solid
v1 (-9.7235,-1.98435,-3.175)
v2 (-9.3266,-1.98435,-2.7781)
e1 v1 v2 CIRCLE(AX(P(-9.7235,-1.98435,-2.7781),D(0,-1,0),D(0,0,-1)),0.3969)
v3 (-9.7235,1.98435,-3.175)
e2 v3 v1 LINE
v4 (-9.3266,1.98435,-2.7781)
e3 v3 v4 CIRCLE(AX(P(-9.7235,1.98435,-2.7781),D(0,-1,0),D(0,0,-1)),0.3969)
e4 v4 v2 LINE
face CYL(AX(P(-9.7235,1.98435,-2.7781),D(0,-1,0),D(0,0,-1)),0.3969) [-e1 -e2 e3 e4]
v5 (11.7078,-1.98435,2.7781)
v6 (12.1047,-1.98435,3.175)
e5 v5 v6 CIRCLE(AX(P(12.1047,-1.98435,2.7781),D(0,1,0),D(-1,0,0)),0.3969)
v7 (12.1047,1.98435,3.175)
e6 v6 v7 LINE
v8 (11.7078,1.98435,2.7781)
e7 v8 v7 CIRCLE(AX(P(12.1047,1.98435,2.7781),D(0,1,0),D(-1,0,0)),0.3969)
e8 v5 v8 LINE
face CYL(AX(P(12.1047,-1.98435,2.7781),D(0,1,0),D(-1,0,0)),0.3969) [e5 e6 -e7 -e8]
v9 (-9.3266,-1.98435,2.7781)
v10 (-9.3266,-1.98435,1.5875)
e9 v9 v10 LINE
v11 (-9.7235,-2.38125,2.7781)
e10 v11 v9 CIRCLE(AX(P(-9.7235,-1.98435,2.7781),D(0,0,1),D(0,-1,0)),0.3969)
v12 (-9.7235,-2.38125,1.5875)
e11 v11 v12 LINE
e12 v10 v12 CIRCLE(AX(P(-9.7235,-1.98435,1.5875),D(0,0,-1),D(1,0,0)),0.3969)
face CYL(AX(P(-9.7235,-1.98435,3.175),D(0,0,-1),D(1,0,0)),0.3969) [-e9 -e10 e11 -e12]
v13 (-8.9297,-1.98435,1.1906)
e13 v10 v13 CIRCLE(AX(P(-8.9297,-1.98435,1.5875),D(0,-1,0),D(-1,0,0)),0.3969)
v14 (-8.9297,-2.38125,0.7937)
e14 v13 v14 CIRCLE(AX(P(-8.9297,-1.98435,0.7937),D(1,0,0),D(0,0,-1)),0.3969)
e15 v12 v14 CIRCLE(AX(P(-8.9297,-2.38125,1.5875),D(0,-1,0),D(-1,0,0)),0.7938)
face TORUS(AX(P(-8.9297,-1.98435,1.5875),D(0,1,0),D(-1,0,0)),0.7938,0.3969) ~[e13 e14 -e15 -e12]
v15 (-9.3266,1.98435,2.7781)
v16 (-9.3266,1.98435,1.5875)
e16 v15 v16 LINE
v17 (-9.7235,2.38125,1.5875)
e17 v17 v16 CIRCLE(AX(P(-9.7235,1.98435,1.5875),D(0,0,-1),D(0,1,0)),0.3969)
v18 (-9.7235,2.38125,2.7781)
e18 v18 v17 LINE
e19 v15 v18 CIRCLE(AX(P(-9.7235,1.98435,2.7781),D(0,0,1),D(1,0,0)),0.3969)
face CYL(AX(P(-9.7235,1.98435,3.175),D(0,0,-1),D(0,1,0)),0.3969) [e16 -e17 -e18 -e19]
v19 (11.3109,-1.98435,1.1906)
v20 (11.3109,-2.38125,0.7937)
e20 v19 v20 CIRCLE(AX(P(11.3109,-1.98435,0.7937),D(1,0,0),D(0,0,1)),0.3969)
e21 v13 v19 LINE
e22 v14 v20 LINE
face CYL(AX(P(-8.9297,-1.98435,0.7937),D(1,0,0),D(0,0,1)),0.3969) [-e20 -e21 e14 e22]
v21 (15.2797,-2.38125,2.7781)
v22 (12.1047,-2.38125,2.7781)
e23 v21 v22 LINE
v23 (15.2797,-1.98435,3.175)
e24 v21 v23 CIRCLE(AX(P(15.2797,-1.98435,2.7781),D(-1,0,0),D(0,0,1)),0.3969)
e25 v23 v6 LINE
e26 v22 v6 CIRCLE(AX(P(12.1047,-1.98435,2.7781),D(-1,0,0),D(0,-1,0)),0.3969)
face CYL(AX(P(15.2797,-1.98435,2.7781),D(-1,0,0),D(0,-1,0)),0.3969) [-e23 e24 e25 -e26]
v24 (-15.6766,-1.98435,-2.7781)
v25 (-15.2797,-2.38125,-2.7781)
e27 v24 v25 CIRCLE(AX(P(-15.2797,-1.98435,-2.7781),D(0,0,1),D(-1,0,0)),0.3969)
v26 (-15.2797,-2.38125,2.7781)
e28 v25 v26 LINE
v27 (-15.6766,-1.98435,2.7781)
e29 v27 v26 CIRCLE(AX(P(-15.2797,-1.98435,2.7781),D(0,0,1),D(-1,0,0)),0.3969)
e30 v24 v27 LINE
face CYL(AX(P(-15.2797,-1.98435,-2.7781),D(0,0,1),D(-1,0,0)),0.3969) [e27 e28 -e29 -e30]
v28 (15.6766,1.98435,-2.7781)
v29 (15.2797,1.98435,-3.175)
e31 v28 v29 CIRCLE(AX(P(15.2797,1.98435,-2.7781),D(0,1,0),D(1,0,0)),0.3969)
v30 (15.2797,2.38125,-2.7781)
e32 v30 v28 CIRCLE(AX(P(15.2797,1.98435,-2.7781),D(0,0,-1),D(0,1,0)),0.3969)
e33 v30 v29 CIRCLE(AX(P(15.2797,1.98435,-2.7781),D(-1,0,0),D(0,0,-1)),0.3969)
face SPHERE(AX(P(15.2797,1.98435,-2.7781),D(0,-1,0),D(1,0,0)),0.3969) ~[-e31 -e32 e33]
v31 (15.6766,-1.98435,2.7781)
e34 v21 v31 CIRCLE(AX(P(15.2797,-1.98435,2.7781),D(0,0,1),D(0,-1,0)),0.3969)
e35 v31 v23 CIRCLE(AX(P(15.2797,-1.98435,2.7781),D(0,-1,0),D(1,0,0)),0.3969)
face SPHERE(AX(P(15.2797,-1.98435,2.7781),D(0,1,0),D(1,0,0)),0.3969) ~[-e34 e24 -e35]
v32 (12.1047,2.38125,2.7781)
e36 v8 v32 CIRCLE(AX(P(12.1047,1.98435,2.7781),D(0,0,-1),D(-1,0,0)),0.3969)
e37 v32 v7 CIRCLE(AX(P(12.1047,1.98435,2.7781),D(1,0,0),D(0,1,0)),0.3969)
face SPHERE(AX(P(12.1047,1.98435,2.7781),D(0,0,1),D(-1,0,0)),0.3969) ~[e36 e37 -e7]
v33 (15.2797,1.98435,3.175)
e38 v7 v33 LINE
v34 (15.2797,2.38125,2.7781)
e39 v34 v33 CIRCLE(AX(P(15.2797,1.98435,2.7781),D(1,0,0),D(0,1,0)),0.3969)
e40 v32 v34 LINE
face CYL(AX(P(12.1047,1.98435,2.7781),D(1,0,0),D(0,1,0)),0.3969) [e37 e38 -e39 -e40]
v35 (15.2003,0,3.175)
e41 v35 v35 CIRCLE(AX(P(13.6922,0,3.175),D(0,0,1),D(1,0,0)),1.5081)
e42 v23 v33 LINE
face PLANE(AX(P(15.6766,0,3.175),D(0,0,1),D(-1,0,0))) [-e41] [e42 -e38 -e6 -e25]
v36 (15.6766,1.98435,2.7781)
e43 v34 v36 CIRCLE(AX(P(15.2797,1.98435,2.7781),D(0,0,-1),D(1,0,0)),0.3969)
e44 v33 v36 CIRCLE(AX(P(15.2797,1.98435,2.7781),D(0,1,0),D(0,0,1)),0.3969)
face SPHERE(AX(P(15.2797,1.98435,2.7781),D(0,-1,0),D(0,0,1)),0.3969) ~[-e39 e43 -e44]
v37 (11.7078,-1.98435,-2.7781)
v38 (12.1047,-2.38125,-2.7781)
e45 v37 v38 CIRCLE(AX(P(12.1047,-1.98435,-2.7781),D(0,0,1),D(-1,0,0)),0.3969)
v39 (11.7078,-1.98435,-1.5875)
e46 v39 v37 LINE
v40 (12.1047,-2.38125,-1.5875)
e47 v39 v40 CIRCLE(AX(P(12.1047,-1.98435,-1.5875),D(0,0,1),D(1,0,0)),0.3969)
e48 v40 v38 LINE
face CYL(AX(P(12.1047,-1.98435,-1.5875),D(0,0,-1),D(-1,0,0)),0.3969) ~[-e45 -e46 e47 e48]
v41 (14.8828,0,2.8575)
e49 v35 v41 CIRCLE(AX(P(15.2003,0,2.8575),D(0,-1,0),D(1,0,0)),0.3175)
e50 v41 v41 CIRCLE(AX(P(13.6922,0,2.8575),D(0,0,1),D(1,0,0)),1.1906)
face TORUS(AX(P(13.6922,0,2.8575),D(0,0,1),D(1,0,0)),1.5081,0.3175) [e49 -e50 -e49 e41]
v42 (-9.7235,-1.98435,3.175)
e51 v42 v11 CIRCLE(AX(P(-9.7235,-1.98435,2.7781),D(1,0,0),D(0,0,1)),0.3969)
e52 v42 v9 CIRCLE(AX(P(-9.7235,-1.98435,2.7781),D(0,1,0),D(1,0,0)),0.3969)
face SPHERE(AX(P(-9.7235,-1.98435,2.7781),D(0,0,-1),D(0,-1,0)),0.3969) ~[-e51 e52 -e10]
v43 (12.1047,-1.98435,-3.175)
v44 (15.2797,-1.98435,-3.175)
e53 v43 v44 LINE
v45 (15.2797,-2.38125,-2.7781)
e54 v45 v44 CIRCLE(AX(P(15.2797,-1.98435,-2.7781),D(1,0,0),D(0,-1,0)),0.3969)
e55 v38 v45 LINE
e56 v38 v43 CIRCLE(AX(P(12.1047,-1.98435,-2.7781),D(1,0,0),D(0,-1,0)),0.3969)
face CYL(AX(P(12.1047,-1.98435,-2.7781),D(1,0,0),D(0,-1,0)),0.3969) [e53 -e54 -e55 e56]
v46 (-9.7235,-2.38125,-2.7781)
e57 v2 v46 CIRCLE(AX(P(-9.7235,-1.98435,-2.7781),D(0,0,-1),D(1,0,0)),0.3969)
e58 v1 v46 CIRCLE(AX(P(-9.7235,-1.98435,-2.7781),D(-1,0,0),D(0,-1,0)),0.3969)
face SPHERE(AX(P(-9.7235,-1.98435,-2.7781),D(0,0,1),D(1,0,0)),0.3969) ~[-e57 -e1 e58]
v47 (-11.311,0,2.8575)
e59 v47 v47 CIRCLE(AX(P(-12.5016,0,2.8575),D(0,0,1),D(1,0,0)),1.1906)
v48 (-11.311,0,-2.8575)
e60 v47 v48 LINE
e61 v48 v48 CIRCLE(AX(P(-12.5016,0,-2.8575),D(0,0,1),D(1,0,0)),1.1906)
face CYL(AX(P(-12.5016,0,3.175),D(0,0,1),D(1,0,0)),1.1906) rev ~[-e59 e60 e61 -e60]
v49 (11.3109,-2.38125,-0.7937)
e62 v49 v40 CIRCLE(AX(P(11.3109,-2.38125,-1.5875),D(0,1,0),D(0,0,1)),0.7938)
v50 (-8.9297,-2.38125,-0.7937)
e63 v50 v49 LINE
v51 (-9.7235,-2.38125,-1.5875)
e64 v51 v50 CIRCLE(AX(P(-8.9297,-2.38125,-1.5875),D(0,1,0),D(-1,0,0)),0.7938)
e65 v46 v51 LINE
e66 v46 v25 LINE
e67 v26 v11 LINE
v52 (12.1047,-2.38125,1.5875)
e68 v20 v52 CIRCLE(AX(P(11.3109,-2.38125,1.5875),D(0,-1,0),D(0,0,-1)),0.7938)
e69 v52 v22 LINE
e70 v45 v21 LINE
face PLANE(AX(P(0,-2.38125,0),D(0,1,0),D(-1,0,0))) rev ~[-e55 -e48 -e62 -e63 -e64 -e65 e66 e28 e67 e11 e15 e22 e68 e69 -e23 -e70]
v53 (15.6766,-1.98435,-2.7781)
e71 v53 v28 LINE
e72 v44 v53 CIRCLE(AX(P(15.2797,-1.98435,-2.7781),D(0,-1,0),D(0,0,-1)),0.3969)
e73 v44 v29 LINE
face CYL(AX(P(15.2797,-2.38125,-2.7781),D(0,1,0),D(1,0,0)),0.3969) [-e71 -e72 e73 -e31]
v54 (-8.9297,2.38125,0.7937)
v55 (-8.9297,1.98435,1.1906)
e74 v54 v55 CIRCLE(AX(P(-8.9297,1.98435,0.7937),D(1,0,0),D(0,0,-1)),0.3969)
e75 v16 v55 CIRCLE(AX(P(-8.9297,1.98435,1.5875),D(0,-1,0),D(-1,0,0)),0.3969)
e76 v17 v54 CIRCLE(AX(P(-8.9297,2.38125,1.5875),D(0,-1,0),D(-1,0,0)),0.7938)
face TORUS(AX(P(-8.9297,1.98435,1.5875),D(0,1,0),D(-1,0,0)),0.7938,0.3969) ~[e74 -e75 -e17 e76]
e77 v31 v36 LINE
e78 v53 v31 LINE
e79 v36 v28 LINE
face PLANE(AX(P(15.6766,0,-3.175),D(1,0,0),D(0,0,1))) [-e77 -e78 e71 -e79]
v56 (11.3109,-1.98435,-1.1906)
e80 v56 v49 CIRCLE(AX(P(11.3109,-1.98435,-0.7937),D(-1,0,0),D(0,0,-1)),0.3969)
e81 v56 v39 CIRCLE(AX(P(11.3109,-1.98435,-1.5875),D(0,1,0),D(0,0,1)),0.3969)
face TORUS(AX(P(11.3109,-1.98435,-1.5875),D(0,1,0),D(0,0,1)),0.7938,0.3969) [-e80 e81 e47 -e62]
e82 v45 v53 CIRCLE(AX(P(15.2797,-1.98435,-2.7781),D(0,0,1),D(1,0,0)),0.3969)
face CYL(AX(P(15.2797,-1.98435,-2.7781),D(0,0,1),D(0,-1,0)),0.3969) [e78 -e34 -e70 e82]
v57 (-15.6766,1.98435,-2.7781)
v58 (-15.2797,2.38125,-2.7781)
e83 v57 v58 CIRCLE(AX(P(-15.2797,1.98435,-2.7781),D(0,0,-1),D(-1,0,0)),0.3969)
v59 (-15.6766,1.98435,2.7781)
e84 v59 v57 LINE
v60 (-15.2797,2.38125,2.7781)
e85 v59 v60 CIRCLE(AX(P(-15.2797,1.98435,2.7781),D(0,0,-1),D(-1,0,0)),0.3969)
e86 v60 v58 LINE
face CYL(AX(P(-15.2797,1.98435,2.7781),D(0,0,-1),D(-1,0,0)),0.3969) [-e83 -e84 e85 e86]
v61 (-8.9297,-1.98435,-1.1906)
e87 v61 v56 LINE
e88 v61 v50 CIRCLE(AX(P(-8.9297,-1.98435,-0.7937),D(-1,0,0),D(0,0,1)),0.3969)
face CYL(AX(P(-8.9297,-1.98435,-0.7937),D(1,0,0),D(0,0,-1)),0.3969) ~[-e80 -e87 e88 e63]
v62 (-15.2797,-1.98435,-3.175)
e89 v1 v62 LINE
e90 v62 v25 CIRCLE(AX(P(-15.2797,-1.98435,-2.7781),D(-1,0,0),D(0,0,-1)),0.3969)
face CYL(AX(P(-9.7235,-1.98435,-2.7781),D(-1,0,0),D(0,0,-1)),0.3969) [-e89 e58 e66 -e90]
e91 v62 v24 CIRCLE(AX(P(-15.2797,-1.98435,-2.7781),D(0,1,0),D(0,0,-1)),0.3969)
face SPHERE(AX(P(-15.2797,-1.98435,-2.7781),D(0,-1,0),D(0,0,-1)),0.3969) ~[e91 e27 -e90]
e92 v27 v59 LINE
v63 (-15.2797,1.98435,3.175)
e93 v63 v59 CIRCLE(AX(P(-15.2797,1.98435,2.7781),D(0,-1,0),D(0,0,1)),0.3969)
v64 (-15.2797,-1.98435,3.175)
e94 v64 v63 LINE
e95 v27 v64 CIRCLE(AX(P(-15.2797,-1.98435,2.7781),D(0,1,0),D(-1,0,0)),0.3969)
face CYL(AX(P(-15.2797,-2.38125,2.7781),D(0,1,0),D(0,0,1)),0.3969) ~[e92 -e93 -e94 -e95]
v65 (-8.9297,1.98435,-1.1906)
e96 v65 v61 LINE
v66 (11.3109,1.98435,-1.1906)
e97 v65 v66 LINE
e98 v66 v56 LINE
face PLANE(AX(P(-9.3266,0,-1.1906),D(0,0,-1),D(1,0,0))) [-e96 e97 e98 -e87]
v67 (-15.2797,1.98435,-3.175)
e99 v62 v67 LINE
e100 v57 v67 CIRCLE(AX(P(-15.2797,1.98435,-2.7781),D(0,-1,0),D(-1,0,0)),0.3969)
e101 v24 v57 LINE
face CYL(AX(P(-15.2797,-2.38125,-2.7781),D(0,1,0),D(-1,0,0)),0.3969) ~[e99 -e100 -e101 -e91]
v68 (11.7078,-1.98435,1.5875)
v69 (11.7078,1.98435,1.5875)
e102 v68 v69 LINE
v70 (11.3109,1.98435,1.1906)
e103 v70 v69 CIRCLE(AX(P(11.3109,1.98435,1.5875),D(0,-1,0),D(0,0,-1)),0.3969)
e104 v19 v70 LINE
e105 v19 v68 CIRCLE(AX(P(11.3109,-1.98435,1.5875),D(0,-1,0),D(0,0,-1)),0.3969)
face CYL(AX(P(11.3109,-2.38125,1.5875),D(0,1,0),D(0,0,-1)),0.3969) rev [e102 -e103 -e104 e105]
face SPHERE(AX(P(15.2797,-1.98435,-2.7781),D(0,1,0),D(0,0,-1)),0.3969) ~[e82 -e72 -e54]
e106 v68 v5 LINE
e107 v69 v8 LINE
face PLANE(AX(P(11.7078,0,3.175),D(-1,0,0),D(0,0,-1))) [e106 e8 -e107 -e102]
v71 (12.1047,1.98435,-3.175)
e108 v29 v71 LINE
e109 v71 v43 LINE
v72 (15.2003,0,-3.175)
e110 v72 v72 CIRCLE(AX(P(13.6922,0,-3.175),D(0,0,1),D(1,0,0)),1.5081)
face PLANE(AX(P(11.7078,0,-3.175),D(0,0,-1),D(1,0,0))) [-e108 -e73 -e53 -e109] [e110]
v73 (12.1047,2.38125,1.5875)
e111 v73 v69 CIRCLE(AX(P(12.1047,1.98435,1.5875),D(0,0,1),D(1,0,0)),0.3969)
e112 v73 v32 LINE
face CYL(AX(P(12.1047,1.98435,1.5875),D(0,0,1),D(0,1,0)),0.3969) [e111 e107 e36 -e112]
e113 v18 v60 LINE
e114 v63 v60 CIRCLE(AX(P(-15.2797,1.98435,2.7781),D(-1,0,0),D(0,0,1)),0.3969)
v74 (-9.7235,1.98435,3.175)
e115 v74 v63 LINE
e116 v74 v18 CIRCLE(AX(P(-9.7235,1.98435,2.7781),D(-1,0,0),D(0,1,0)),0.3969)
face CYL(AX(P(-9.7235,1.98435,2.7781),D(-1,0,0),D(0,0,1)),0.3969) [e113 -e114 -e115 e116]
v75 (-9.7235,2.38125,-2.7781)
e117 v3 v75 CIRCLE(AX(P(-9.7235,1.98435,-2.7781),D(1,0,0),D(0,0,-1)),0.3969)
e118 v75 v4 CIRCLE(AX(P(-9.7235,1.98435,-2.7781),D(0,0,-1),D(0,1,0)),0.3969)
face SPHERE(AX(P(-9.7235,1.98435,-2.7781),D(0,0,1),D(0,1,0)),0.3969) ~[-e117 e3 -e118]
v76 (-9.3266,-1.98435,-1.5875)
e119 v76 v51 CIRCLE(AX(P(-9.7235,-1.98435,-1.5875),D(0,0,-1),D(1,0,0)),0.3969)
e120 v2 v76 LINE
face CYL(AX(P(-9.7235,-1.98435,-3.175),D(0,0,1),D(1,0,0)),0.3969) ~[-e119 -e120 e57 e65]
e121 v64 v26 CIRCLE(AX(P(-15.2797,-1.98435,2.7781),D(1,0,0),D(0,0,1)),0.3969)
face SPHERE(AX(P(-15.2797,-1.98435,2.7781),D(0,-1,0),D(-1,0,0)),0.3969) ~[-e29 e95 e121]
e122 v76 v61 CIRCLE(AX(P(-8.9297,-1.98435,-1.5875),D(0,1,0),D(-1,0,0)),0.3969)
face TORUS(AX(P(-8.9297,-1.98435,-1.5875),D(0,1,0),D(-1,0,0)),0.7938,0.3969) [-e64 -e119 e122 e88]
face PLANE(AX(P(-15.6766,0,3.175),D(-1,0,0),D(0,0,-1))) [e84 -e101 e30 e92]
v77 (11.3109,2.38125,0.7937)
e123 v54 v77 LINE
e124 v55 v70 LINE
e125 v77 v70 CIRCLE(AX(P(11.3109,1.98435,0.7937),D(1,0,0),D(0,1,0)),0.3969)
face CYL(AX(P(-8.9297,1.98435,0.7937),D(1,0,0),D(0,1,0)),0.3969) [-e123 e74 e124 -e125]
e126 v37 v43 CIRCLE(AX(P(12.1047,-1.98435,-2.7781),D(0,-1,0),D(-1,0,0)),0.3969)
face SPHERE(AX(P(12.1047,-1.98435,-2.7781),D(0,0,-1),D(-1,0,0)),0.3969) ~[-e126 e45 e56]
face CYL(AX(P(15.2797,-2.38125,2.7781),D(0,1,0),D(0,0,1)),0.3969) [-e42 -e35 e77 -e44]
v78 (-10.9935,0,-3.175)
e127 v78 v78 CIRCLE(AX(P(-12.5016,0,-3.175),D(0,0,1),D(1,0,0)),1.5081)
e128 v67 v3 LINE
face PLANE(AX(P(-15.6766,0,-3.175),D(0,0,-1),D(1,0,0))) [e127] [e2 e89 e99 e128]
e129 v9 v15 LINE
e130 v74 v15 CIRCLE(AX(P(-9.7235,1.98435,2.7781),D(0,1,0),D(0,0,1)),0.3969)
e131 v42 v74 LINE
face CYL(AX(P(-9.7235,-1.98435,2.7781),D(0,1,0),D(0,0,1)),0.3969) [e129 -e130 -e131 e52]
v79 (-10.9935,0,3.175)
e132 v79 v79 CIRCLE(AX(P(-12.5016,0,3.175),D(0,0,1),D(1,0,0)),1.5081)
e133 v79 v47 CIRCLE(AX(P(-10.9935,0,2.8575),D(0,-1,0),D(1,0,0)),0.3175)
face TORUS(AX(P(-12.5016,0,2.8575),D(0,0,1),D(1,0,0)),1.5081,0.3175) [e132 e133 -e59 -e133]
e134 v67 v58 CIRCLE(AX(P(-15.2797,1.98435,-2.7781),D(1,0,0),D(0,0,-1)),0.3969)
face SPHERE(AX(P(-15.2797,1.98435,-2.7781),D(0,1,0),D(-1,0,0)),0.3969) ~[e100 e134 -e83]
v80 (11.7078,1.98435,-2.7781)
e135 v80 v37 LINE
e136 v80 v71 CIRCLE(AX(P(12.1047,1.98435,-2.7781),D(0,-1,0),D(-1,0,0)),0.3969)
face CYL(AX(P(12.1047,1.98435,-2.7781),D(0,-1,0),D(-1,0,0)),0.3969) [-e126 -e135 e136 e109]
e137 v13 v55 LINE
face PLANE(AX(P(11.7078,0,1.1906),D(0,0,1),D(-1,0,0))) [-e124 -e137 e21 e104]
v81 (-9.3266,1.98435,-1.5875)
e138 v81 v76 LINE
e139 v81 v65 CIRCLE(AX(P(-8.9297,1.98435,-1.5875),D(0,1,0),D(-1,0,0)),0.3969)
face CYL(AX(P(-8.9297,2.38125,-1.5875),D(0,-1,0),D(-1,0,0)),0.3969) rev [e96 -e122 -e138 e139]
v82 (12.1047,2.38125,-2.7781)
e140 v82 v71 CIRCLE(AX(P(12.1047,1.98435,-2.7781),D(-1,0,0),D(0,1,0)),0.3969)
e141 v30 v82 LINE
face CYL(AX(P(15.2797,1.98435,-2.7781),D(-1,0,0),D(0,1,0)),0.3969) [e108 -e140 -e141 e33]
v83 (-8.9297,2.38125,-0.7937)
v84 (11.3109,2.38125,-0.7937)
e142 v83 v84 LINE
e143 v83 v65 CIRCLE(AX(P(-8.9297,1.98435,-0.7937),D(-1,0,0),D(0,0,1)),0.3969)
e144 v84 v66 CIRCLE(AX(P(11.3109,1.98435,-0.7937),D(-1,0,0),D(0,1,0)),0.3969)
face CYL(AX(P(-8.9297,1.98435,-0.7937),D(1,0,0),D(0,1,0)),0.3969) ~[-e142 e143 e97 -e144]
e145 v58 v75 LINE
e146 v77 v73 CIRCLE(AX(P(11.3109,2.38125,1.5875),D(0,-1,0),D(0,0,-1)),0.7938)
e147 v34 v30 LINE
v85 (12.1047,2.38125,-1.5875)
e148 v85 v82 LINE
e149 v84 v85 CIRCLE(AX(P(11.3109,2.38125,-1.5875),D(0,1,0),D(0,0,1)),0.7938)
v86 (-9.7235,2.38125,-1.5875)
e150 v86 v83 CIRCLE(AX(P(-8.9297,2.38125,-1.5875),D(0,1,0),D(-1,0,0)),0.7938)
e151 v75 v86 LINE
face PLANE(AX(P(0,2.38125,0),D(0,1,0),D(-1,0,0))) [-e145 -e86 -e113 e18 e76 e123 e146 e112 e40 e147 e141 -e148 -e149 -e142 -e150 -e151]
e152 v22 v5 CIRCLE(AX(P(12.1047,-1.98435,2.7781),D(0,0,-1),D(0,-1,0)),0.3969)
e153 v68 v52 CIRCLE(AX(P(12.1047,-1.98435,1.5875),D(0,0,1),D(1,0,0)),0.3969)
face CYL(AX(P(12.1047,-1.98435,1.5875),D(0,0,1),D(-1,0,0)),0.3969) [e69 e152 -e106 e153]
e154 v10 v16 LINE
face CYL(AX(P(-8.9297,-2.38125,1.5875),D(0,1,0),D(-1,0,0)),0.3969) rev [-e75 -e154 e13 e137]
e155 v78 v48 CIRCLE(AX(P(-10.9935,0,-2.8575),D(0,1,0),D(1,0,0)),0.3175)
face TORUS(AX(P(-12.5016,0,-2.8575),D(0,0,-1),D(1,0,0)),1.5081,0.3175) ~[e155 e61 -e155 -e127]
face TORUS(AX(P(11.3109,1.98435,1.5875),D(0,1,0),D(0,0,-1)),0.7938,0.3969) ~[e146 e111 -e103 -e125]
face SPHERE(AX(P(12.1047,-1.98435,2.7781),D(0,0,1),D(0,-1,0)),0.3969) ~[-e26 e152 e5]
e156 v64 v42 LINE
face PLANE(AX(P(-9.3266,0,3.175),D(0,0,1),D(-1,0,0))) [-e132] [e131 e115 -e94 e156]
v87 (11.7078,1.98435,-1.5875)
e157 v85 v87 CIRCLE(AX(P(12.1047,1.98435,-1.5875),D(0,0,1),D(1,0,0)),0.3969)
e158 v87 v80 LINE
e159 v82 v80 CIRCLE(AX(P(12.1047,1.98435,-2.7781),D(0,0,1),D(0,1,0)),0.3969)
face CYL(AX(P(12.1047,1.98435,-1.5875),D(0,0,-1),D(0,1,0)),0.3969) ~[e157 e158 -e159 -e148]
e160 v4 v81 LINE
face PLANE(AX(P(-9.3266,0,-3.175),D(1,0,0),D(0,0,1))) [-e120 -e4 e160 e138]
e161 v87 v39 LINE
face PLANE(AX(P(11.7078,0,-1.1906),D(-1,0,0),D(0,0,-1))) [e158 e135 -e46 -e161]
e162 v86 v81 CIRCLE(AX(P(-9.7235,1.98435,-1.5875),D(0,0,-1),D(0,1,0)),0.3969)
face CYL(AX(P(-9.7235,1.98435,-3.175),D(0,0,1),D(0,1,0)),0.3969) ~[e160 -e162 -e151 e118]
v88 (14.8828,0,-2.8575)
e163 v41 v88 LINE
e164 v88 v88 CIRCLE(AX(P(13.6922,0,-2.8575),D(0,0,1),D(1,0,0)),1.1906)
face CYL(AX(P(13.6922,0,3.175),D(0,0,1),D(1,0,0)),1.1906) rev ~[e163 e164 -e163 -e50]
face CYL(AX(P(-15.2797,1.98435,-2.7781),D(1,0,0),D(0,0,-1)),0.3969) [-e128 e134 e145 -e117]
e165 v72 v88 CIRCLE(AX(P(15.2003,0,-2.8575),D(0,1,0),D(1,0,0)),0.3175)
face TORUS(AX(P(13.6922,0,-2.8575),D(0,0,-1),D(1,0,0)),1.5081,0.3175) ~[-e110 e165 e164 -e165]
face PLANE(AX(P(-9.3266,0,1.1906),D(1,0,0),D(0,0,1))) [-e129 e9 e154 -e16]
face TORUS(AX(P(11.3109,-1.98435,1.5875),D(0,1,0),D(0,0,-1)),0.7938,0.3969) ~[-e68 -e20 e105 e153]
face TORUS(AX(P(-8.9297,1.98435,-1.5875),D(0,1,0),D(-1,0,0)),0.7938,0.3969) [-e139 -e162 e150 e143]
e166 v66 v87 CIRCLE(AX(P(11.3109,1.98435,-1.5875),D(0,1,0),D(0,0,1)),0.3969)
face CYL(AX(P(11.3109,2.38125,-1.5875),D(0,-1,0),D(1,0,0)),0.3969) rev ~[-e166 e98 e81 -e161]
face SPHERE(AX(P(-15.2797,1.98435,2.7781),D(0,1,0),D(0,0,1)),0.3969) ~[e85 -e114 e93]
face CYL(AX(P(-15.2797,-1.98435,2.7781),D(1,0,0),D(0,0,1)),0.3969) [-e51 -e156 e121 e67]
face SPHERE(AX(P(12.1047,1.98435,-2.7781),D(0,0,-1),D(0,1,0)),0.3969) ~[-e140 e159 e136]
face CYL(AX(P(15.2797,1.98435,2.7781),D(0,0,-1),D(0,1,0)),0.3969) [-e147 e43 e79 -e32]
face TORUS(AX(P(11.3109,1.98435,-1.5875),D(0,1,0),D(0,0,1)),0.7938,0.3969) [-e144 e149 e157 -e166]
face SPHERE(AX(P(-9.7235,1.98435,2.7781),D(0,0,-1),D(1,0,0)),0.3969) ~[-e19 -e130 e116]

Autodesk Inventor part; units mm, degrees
ref_plane "YZ Plane" through (0, 0, 0) normal (1, 0, 0) x (0, 1, 0)
ref_plane "XZ Plane" through (0, 0, 0) normal (0, 1, 0) x (-1, 0, 0)
ref_plane "XY Plane" through (0, 0, 0) normal (0, 0, 1) x (1, 0, 0)
sketch "Sketch1" plane through (0, 0, 0) normal (0, 1, 0) x (-1, 0, 0)
  line L0 (15.6766, -3.175) -> (9.3266, -3.175)
  line L1 (9.3266, -3.175) -> (9.3266, 3.175)
  line L2 (9.3266, 3.175) -> (15.6766, 3.175)
  line L3 (15.6766, 3.175) -> (15.6766, -3.175)
  line L4 (-11.7078, -3.175) -> (-15.6766, -3.175)
  line L5 (-15.6766, -3.175) -> (-15.6766, 3.175)
  line L6 (-15.6766, 3.175) -> (-11.7078, 3.175)
  line L7 (-11.7078, 3.175) -> (-11.7078, -3.175)
  line L8 (9.3266, -1.1906) -> (-11.7078, -1.1906)
  line L9 (-11.7078, -1.1906) -> (-11.7078, 1.1906)
  line L10 (-11.7078, 1.1906) -> (9.3266, 1.1906)
  line L11 (9.3266, 1.1906) -> (9.3266, -1.1906)
  point P0 (0, 0)
  dimension "d0" = 6.35
  dimension "d1" = 6.35
  dimension "d2" = 3.9688
  dimension "d3" = 6.35
  dimension "d4" = 3.175
  dimension "d5" = 3.175
  dimension "d6" = 31.3531
  dimension "d7" = 9.3266
  dimension "d8" = 2.3813
  dimension "d9" = 1.9844
extrude "Extrusion1" add sketch "Sketch1" along normal mid plane 4.7625
sketch "Sketch2" plane through (-15.6766, 2.3813, 3.175) normal (0, 0, 1) x (1, 0, 0)
  circle A0 centre (3.175, -2.3813) radius 1.1906
  line L0 (6.35, -4.7625) -> (6.35, 0) projected
  circle A1 centre (29.3688, -2.3813) radius 1.1906
  line L1 (31.3531, -4.7625) -> (31.3531, 0) projected
  point P0 (15.6766, -2.3813)
  dimension "d12" = 2.3813
  dimension "d13" = 3.175
  dimension "d14" = 0
  dimension "d15" = 2.3813
  dimension "d16" = 0
  dimension "d17" = 1.9844
extrude "Extrusion2" cut sketch "Sketch2" against normal blind 6.35
fillet "Fillet1" radius 0.3969 4 edges at (-9.3266, 0, 1.1906) (-9.3266, 0, -1.1906) (11.7078, 0, -1.1906) (11.7078, 0, 1.1906)
fillet "Fillet2" radius 0.3969 24 edges at (-9.2103, -2.3813, 1.3069) (1.1906, -2.3813, 1.1906) (11.5916, -2.3813, 1.3069) (11.7078, -2.3813, 2.3812) (-9.3266, -2.3813, 2.3813) (-9.2103, -2.3813, -1.3069) (1.1906, -2.3813, -1.1906) (11.5916, -2.3813, -1.3069) (11.7078, -2.3813, -2.3813) (-9.3266, -2.3813, -2.3812) (-9.2103, 2.3813, -1.3069) (1.1906, 2.3813, -1.1906) (11.5916, 2.3813, -1.3069) (11.7078, 2.3813, -2.3813) (-9.3266, 2.3813, -2.3812) (-9.2103, 2.3813, 1.3069) (1.1906, 2.3813, 1.1906) (11.5916, 2.3813, 1.3069) (11.7078, 2.3813, 2.3812) (-9.3266, 2.3813, 2.3813) (15.6766, 0, -3.175) (15.6766, 0, 3.175) (-15.6766, 0, 3.175) (-15.6766, 0, -3.175)
fillet "Fillet3" radius 0.3969 32 edges at (-9.3266, 0, -3.175) (-9.4428, 2.265, -3.175) (-12.5016, 2.3813, -3.175) (-15.5603, 2.3813, -3.0588) (-15.6766, 2.3813, 0) (-15.5603, 2.3813, 3.0588) (-12.5016, 2.3813, 3.175) (-9.4428, 2.265, 3.175) (-9.3266, 0, 3.175) (-9.4428, -2.265, 3.175) (-12.5016, -2.3813, 3.175) (-15.5603, -2.3813, 3.0588) (-15.6766, -2.3813, 0) (-15.5603, -2.3813, -3.0588) (-12.5016, -2.3813, -3.175) (-9.4428, -2.265, -3.175) (11.8241, 2.265, -3.175) (13.6922, 2.3813, -3.175) (15.5603, 2.3813, -3.0588) (15.6766, 2.3813, 0) (15.5603, 2.3813, 3.0588) (13.6922, 2.3813, 3.175) (11.8241, 2.265, 3.175) (11.7078, 0, 3.175) (11.8241, -2.265, 3.175) (13.6922, -2.3813, 3.175) (15.5603, -2.3813, 3.0588) (15.6766, -2.3813, 0) (15.5603, -2.3813, -3.0588) (13.6922, -2.3813, -3.175) (11.8241, -2.265, -3.175) (11.7078, 0, -3.175)
fillet "Fillet4" radius 0.3175 4 edges at (-13.6922, 0, 3.175) (-13.6922, 0, -3.175) (12.5016, 0, 3.175) (12.5016, 0, -3.175)
properties part number "Connecting Rod" material "Silver"
